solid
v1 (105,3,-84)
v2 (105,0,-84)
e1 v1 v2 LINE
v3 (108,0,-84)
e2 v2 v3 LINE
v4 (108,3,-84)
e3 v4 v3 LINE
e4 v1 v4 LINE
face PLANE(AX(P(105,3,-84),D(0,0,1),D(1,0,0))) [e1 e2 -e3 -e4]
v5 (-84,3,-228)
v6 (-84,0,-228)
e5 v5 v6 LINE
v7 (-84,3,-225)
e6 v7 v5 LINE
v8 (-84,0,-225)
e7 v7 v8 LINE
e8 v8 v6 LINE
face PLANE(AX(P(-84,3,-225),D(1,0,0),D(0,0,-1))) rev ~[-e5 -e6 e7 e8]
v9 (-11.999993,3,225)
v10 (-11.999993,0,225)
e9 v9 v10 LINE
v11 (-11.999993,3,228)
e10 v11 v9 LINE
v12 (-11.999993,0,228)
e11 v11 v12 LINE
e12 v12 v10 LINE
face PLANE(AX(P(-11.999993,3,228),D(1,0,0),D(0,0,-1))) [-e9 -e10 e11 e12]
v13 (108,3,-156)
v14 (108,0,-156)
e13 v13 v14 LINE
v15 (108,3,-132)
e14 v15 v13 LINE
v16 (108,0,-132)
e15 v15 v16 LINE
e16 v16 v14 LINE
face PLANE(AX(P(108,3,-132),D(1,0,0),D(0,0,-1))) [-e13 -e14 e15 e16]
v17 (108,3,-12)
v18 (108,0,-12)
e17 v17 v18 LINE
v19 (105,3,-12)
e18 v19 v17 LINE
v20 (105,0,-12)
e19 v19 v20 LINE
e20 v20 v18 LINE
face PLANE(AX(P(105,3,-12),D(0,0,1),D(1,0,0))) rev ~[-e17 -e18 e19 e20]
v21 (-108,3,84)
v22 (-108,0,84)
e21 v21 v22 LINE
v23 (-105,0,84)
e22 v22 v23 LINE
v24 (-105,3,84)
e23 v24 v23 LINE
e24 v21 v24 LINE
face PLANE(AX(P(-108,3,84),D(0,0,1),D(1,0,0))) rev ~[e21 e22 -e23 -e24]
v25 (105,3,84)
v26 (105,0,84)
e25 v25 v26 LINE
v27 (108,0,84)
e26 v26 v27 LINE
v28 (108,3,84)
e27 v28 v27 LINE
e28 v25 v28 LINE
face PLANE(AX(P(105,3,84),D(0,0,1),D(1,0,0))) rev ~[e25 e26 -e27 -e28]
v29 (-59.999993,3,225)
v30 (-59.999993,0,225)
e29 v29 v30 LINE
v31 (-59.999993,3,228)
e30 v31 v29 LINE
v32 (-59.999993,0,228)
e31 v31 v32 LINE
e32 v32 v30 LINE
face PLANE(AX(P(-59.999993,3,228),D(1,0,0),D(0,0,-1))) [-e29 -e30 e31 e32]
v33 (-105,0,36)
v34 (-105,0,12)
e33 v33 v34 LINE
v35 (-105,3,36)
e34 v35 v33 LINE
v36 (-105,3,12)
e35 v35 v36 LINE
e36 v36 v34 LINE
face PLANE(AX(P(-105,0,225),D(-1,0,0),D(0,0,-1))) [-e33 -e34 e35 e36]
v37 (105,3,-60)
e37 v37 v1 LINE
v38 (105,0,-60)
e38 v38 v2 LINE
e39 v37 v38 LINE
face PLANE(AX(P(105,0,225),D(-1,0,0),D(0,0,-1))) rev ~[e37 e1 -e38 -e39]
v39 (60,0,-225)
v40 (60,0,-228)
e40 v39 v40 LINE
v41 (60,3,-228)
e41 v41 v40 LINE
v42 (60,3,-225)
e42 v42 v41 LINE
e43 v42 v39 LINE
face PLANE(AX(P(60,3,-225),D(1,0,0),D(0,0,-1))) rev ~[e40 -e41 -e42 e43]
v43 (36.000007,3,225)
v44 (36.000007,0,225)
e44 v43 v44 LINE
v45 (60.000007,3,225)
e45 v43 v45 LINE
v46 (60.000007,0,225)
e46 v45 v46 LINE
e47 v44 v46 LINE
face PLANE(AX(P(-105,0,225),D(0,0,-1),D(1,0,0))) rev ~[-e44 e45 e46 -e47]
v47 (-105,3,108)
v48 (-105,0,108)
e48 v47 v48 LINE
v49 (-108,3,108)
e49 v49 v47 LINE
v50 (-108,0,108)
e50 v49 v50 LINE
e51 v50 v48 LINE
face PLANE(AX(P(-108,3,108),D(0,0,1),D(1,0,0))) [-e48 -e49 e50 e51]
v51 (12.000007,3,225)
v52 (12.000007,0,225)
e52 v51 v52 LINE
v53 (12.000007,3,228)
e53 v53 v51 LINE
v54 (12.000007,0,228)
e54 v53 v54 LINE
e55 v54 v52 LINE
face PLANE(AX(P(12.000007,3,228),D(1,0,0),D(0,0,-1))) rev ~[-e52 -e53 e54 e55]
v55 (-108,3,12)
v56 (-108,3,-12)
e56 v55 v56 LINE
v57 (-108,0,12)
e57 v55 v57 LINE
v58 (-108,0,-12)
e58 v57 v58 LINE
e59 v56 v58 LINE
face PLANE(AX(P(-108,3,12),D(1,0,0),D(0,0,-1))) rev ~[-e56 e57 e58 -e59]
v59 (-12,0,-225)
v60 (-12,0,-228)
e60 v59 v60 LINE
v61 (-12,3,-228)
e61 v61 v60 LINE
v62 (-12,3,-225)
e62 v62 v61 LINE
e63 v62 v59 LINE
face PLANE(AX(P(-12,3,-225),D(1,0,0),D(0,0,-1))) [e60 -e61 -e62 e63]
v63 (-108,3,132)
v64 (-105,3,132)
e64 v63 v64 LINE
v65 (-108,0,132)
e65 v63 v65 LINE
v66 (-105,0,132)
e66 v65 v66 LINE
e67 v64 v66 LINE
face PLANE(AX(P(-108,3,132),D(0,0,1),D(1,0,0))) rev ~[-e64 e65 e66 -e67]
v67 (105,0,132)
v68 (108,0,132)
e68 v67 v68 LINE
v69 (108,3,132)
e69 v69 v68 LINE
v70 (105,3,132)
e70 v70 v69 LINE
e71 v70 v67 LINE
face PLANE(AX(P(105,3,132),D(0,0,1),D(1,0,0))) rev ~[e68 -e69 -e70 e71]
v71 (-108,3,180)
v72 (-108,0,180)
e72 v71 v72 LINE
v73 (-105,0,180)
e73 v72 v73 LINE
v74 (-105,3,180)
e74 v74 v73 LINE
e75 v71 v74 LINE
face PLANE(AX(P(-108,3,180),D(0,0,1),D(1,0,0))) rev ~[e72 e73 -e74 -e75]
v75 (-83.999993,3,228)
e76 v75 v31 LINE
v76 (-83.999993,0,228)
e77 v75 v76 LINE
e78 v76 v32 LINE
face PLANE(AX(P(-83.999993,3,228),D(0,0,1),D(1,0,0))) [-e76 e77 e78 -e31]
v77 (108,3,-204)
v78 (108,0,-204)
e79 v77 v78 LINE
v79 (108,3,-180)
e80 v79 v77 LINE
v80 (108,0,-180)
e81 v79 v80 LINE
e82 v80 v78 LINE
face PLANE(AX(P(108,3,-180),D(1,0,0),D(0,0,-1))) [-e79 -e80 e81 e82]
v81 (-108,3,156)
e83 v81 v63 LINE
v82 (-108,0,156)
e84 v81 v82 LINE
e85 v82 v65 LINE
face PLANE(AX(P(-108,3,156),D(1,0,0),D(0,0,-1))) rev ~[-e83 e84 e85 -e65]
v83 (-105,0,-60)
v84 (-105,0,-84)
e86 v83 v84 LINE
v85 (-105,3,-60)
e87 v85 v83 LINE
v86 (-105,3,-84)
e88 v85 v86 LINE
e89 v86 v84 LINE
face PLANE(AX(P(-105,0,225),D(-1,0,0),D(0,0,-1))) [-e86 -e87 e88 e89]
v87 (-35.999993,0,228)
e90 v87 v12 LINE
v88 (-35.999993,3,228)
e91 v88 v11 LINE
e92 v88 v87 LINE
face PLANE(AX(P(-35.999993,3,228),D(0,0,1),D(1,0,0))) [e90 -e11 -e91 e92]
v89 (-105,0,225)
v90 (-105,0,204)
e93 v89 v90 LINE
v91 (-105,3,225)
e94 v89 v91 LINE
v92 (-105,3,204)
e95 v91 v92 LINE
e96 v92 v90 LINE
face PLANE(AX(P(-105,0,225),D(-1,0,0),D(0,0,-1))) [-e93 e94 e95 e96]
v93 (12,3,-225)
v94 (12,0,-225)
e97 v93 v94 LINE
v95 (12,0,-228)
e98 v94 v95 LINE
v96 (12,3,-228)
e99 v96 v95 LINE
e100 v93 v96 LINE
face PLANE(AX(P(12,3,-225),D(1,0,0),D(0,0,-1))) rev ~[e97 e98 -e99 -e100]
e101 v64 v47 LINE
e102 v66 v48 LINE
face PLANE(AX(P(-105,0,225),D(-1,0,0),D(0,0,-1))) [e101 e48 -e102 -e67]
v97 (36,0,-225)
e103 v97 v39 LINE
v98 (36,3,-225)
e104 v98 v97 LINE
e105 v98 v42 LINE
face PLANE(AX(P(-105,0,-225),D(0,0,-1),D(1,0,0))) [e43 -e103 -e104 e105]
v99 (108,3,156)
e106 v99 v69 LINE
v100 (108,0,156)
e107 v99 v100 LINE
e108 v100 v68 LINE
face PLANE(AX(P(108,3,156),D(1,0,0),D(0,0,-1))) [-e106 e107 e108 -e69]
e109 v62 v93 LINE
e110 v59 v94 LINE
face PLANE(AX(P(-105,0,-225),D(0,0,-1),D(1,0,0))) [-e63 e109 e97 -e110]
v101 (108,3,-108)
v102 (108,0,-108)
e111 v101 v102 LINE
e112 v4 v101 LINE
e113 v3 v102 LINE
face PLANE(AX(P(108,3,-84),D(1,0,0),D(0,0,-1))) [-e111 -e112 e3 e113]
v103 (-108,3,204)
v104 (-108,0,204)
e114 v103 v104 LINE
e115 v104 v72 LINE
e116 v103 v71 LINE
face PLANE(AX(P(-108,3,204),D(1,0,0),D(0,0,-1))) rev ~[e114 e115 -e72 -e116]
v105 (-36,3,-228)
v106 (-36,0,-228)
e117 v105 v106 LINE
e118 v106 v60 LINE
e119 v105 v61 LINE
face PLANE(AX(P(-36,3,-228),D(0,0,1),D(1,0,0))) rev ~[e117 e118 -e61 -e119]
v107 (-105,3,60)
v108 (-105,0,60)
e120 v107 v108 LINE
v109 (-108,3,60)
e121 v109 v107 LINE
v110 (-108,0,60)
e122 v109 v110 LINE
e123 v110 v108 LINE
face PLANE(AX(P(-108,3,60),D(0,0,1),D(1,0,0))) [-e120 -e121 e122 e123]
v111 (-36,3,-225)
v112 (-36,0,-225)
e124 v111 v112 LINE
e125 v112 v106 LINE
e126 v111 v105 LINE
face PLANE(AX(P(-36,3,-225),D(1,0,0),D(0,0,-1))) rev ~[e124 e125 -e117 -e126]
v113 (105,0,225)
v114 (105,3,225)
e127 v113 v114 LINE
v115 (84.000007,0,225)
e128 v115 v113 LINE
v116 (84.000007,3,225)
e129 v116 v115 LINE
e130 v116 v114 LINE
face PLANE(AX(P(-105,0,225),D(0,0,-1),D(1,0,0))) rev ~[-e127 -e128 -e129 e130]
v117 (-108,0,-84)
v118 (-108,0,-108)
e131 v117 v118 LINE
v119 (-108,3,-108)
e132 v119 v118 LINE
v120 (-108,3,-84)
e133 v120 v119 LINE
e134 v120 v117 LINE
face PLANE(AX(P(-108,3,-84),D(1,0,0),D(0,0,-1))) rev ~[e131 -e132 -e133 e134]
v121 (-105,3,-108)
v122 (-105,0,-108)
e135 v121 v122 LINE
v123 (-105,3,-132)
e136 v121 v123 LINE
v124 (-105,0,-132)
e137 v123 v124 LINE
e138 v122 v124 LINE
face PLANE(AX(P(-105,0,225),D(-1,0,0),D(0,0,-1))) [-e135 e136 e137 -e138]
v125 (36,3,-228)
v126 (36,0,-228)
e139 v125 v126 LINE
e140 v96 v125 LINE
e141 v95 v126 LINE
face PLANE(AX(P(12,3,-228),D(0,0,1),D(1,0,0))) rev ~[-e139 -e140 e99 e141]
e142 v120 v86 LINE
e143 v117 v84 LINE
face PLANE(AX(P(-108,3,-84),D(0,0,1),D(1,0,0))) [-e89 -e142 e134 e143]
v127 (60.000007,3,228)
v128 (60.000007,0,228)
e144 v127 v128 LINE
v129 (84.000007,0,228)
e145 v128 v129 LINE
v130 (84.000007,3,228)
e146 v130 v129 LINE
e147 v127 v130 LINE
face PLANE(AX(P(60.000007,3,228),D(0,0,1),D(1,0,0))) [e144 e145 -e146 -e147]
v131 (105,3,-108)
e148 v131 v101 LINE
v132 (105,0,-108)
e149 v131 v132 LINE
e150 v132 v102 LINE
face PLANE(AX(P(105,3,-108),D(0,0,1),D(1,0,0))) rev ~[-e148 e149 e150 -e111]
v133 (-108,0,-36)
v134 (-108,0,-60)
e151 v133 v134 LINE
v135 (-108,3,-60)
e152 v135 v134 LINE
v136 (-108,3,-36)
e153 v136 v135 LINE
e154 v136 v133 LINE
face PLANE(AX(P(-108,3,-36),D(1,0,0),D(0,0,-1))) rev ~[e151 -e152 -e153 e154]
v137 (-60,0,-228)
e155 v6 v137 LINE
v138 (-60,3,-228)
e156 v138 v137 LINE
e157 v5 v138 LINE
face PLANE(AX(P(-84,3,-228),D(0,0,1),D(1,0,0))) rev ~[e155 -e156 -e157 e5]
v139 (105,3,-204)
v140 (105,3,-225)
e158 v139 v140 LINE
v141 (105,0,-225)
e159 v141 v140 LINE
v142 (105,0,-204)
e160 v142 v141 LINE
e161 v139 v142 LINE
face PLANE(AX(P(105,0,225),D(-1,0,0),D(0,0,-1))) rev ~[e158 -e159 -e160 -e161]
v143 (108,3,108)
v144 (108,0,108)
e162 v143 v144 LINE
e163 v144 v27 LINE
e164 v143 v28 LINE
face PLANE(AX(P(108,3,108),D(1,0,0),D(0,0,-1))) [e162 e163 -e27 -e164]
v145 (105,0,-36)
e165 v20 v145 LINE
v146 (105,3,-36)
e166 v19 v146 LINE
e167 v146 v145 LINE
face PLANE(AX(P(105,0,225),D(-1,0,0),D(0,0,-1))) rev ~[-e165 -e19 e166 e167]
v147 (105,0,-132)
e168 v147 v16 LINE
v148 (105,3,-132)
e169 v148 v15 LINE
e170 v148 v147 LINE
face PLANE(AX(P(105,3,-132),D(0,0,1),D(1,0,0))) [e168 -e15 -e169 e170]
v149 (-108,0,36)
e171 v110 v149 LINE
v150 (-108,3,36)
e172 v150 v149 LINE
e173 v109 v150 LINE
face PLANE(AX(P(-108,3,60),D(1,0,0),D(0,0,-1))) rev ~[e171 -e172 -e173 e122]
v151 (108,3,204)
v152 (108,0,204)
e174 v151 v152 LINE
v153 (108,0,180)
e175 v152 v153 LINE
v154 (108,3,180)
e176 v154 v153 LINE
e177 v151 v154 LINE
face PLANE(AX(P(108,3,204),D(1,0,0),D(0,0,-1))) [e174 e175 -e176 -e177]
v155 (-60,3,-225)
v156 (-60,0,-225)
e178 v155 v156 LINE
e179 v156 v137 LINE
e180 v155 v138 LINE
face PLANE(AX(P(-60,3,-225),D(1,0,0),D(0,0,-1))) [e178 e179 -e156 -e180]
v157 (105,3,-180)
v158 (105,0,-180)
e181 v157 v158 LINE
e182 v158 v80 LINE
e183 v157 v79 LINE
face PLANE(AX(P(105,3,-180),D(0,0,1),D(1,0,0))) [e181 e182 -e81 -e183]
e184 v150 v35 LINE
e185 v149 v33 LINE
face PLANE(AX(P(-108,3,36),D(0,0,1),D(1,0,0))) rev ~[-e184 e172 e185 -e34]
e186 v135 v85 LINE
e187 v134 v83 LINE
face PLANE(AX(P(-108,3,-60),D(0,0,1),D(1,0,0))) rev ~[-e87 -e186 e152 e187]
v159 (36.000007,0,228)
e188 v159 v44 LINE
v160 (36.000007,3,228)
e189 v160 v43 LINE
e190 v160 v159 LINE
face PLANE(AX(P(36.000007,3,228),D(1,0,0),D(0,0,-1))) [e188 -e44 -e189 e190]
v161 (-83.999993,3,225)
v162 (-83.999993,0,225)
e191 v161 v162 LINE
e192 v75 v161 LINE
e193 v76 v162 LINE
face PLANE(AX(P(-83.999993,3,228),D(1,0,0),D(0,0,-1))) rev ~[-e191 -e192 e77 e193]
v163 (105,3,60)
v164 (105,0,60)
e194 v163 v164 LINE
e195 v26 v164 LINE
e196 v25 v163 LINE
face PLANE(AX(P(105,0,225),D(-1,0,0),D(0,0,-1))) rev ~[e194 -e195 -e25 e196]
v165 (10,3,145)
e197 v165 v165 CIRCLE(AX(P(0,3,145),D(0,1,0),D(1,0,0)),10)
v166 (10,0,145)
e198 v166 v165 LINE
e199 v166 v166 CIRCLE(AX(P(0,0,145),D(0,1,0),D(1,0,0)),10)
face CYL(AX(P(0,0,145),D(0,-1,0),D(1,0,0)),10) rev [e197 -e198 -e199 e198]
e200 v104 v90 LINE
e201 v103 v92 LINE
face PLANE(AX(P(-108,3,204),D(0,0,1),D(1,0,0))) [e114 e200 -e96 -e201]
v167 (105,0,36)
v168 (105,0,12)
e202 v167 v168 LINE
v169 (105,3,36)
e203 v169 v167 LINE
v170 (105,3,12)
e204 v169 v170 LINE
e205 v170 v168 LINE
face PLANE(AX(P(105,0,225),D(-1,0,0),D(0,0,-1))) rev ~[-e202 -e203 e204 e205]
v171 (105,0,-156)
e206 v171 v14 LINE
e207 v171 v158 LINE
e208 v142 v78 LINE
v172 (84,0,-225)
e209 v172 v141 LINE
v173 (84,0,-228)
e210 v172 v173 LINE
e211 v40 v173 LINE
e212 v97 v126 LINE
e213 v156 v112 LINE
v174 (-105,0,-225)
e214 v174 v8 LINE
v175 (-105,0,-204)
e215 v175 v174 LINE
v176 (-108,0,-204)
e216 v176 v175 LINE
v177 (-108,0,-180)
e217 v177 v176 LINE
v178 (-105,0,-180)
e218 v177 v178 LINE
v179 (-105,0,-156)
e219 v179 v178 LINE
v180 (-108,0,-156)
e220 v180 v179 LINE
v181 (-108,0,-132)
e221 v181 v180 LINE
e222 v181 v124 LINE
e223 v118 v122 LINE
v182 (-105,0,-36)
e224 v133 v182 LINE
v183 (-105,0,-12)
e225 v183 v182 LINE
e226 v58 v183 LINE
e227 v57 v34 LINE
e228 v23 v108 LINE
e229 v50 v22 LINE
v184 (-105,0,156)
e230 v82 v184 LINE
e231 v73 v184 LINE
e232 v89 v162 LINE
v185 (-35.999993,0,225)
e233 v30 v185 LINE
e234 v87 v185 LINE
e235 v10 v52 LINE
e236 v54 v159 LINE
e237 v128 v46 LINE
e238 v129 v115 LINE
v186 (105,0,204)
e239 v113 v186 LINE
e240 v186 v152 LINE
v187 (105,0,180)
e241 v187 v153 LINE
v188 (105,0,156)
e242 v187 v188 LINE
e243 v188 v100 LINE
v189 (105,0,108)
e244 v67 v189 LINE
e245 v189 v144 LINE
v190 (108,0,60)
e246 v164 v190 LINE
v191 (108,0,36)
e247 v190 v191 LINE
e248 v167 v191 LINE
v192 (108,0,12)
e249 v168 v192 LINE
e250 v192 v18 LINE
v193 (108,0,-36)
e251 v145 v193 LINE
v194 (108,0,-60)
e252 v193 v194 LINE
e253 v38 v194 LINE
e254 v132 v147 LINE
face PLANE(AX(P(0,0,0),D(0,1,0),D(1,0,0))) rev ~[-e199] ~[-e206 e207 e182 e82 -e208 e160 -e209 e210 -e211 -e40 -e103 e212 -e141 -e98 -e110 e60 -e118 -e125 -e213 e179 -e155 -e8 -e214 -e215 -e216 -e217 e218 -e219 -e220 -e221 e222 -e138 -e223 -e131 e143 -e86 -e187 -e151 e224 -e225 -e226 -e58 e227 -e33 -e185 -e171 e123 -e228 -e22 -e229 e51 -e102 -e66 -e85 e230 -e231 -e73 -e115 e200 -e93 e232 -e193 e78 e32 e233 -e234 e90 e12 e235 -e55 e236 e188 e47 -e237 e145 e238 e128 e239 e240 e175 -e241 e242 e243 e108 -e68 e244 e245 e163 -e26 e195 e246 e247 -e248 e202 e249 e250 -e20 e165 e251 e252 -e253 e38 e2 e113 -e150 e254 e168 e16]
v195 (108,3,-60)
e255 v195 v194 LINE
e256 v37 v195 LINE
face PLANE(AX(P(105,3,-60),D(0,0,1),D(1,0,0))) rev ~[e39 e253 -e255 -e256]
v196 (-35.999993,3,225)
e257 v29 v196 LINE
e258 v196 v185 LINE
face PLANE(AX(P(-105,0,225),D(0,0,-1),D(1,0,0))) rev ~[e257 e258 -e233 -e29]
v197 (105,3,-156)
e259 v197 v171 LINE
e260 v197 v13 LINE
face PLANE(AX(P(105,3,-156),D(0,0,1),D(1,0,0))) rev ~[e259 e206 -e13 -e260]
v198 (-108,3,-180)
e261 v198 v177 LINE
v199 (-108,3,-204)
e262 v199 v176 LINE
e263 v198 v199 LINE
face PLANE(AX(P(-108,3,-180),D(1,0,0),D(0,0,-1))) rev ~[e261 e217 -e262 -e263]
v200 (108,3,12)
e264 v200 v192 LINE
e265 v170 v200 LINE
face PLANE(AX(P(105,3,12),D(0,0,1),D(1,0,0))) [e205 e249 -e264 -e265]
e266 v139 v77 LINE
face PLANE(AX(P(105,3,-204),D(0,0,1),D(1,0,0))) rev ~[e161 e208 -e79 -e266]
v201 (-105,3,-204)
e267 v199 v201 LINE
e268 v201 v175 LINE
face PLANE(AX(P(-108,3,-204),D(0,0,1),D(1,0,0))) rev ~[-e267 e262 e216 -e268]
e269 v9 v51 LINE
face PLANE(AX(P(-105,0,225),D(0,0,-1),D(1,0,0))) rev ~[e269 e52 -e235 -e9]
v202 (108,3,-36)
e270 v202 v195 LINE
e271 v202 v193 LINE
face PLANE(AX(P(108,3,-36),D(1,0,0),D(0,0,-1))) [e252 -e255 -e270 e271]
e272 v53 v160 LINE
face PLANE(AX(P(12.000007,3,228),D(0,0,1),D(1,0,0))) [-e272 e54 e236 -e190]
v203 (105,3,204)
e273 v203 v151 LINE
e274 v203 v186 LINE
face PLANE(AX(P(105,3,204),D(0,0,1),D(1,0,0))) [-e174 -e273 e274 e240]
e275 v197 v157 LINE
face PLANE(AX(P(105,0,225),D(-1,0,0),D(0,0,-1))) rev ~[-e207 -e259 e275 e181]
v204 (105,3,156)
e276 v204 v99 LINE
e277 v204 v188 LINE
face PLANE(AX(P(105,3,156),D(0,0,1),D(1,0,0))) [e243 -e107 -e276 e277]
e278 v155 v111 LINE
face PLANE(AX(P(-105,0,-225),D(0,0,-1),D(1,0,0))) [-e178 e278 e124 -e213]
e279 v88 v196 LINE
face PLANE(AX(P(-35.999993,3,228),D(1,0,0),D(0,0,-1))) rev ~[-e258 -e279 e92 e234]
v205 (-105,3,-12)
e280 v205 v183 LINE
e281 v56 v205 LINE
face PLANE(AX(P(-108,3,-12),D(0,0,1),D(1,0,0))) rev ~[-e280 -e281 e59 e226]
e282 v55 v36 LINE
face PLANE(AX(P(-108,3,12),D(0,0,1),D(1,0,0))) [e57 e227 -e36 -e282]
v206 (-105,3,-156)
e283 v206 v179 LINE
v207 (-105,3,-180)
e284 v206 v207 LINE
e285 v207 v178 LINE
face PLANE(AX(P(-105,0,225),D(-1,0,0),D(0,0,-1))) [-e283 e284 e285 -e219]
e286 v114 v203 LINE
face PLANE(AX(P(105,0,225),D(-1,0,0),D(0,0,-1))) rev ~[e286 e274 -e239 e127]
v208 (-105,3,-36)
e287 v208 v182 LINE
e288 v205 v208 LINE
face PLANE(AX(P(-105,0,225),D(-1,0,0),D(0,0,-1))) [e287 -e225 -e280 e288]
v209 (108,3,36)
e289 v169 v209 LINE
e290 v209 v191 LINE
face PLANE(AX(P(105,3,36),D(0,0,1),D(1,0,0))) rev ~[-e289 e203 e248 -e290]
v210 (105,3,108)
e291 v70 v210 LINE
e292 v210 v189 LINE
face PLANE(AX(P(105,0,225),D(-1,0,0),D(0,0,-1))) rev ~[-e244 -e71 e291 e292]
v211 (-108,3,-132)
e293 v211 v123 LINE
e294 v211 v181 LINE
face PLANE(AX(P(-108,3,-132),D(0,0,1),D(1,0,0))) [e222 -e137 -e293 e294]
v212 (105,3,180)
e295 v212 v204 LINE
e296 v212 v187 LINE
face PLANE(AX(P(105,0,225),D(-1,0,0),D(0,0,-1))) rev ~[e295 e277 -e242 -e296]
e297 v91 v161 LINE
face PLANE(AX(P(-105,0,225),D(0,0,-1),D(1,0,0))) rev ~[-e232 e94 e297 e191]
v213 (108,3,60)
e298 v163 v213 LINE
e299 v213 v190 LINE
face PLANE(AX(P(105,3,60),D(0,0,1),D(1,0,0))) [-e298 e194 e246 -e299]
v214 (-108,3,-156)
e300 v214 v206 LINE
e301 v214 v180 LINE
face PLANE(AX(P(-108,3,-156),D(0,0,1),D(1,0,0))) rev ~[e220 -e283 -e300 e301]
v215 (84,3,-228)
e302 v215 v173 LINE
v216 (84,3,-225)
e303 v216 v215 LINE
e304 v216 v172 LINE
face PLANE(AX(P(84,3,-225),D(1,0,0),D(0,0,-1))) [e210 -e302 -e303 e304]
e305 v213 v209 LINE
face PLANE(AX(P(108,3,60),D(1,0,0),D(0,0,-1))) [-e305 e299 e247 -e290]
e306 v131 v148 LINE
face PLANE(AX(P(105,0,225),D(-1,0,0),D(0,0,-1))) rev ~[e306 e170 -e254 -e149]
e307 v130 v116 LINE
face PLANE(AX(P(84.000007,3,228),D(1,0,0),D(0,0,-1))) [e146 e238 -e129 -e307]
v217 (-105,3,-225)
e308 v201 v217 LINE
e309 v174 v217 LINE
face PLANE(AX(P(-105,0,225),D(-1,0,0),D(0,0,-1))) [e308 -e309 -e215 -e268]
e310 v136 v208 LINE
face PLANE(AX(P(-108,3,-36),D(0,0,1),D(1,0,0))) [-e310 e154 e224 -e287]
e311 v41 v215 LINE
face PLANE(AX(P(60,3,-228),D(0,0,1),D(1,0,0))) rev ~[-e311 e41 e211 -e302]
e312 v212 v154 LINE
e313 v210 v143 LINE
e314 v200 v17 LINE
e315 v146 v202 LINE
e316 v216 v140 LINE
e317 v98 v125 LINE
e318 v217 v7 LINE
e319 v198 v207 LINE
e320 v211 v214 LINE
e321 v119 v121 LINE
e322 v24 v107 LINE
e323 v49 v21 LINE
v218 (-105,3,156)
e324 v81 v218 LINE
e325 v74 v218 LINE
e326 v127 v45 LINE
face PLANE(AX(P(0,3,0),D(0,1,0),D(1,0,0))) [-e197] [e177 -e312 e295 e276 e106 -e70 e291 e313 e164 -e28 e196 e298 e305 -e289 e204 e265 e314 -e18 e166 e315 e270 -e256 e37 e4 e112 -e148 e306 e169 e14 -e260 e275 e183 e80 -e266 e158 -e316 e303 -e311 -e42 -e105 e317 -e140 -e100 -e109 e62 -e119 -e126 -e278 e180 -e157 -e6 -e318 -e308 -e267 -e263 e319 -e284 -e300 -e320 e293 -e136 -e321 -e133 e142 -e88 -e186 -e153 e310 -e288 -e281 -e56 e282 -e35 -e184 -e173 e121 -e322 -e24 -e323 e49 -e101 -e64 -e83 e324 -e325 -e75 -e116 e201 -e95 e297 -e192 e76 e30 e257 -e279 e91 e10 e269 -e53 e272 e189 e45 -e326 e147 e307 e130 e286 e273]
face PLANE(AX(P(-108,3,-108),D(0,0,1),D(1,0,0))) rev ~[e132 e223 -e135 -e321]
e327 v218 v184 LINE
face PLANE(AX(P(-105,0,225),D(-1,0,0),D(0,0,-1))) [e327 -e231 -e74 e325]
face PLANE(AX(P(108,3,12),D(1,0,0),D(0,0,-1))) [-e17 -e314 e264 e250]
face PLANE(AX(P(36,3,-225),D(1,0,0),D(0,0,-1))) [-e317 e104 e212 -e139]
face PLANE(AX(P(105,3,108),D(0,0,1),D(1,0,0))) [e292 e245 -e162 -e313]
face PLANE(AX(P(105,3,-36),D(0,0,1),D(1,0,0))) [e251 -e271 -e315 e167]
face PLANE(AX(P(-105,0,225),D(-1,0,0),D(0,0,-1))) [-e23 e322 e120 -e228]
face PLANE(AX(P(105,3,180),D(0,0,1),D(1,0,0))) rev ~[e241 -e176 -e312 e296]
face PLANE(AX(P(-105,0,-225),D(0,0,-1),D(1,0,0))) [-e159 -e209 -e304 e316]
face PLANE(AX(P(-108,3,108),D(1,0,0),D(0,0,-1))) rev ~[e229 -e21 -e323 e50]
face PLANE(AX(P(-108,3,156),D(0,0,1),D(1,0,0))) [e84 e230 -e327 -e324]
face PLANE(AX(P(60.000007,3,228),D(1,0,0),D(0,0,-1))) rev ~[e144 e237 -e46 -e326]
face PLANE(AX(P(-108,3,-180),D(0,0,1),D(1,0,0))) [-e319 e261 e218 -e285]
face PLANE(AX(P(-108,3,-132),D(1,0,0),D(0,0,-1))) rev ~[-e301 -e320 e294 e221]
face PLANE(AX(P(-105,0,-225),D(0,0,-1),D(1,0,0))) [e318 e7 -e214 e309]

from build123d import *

# Parameters (mm, degrees)
SKETCH1_W           = 210
SKETCH1_H           = 450
SKETCH1_R           = 10
BOSS_EXTRUDE1_DEPTH = 3
SKETCH3_W           = 3
SKETCH3_H           = 24
BOSS_EXTRUDE3_DEPTH = 3
SKETCH2_W           = 24
SKETCH2_H           = 3
BOSS_EXTRUDE4_DEPTH = 3


with BuildPart() as part:
    # Sketch1 → Boss-Extrude1 (new body)
    with BuildSketch(Plane(origin=(0, 0, 0), x_dir=(1, 0, 0), z_dir=(0, 1, 0))):
        Rectangle(SKETCH1_W, SKETCH1_H)
        with Locations((0, -145)):
            Circle(SKETCH1_R, mode=Mode.SUBTRACT)
    extrude(amount=BOSS_EXTRUDE1_DEPTH)

    # Sketch3 → Boss-Extrude3 (add)
    with BuildSketch(Plane(origin=(0, 3, 0), x_dir=(1, 0, 0), z_dir=(0, 1, 0))):
        with Locations((-106.5, 192)):
            Rectangle(SKETCH3_W, SKETCH3_H)
        with Locations((106.5, 192)):
            Rectangle(SKETCH3_W, SKETCH3_H)
        with Locations((106.5, 144)):
            Rectangle(SKETCH3_W, SKETCH3_H)
        with Locations((106.5, 96)):
            Rectangle(SKETCH3_W, SKETCH3_H)
        with Locations((106.5, 48)):
            Rectangle(SKETCH3_W, SKETCH3_H)
        with Locations((106.5, 0)):
            Rectangle(SKETCH3_W, SKETCH3_H)
        with Locations((106.5, -48)):
            Rectangle(SKETCH3_W, SKETCH3_H)
        with Locations((106.5, -96)):
            Rectangle(SKETCH3_W, SKETCH3_H)
        with Locations((106.5, -144)):
            Rectangle(SKETCH3_W, SKETCH3_H)
        with Locations((106.5, -192)):
            Rectangle(SKETCH3_W, SKETCH3_H)
        with Locations((-106.5, 144)):
            Rectangle(SKETCH3_W, SKETCH3_H)
        with Locations((-106.5, 96)):
            Rectangle(SKETCH3_W, SKETCH3_H)
        with Locations((-106.5, 48)):
            Rectangle(SKETCH3_W, SKETCH3_H)
        with Locations((-106.5, 0)):
            Rectangle(SKETCH3_W, SKETCH3_H)
        with Locations((-106.5, -48)):
            Rectangle(SKETCH3_W, SKETCH3_H)
        with Locations((-106.5, -96)):
            Rectangle(SKETCH3_W, SKETCH3_H)
        with Locations((-106.5, -144)):
            Rectangle(SKETCH3_W, SKETCH3_H)
        with Locations((-106.5, -192)):
            Rectangle(SKETCH3_W, SKETCH3_H)
    extrude(amount=-BOSS_EXTRUDE3_DEPTH)

    # Sketch2 → Boss-Extrude4 (add)
    with BuildSketch(Plane(origin=(0, 3, 0), x_dir=(1, 0, 0), z_dir=(0, 1, 0))):
        with Locations((-72, 226.5)):
            Rectangle(SKETCH2_W, SKETCH2_H)
        with Locations((-24, 226.5)):
            Rectangle(SKETCH2_W, SKETCH2_H)
        with Locations((24, 226.5)):
            Rectangle(SKETCH2_W, SKETCH2_H)
        with Locations((72, 226.5)):
            Rectangle(SKETCH2_W, SKETCH2_H)
        with Locations((-71.999992639, -226.5)):
            Rectangle(SKETCH2_W, SKETCH2_H)
        with Locations((-23.999992639, -226.5)):
            Rectangle(SKETCH2_W, SKETCH2_H)
        with Locations((24.000007361, -226.5)):
            Rectangle(SKETCH2_W, SKETCH2_H)
        with Locations((72.000007361, -226.5)):
            Rectangle(SKETCH2_W, SKETCH2_H)
    extrude(amount=-BOSS_EXTRUDE4_DEPTH)


solid = part.part
